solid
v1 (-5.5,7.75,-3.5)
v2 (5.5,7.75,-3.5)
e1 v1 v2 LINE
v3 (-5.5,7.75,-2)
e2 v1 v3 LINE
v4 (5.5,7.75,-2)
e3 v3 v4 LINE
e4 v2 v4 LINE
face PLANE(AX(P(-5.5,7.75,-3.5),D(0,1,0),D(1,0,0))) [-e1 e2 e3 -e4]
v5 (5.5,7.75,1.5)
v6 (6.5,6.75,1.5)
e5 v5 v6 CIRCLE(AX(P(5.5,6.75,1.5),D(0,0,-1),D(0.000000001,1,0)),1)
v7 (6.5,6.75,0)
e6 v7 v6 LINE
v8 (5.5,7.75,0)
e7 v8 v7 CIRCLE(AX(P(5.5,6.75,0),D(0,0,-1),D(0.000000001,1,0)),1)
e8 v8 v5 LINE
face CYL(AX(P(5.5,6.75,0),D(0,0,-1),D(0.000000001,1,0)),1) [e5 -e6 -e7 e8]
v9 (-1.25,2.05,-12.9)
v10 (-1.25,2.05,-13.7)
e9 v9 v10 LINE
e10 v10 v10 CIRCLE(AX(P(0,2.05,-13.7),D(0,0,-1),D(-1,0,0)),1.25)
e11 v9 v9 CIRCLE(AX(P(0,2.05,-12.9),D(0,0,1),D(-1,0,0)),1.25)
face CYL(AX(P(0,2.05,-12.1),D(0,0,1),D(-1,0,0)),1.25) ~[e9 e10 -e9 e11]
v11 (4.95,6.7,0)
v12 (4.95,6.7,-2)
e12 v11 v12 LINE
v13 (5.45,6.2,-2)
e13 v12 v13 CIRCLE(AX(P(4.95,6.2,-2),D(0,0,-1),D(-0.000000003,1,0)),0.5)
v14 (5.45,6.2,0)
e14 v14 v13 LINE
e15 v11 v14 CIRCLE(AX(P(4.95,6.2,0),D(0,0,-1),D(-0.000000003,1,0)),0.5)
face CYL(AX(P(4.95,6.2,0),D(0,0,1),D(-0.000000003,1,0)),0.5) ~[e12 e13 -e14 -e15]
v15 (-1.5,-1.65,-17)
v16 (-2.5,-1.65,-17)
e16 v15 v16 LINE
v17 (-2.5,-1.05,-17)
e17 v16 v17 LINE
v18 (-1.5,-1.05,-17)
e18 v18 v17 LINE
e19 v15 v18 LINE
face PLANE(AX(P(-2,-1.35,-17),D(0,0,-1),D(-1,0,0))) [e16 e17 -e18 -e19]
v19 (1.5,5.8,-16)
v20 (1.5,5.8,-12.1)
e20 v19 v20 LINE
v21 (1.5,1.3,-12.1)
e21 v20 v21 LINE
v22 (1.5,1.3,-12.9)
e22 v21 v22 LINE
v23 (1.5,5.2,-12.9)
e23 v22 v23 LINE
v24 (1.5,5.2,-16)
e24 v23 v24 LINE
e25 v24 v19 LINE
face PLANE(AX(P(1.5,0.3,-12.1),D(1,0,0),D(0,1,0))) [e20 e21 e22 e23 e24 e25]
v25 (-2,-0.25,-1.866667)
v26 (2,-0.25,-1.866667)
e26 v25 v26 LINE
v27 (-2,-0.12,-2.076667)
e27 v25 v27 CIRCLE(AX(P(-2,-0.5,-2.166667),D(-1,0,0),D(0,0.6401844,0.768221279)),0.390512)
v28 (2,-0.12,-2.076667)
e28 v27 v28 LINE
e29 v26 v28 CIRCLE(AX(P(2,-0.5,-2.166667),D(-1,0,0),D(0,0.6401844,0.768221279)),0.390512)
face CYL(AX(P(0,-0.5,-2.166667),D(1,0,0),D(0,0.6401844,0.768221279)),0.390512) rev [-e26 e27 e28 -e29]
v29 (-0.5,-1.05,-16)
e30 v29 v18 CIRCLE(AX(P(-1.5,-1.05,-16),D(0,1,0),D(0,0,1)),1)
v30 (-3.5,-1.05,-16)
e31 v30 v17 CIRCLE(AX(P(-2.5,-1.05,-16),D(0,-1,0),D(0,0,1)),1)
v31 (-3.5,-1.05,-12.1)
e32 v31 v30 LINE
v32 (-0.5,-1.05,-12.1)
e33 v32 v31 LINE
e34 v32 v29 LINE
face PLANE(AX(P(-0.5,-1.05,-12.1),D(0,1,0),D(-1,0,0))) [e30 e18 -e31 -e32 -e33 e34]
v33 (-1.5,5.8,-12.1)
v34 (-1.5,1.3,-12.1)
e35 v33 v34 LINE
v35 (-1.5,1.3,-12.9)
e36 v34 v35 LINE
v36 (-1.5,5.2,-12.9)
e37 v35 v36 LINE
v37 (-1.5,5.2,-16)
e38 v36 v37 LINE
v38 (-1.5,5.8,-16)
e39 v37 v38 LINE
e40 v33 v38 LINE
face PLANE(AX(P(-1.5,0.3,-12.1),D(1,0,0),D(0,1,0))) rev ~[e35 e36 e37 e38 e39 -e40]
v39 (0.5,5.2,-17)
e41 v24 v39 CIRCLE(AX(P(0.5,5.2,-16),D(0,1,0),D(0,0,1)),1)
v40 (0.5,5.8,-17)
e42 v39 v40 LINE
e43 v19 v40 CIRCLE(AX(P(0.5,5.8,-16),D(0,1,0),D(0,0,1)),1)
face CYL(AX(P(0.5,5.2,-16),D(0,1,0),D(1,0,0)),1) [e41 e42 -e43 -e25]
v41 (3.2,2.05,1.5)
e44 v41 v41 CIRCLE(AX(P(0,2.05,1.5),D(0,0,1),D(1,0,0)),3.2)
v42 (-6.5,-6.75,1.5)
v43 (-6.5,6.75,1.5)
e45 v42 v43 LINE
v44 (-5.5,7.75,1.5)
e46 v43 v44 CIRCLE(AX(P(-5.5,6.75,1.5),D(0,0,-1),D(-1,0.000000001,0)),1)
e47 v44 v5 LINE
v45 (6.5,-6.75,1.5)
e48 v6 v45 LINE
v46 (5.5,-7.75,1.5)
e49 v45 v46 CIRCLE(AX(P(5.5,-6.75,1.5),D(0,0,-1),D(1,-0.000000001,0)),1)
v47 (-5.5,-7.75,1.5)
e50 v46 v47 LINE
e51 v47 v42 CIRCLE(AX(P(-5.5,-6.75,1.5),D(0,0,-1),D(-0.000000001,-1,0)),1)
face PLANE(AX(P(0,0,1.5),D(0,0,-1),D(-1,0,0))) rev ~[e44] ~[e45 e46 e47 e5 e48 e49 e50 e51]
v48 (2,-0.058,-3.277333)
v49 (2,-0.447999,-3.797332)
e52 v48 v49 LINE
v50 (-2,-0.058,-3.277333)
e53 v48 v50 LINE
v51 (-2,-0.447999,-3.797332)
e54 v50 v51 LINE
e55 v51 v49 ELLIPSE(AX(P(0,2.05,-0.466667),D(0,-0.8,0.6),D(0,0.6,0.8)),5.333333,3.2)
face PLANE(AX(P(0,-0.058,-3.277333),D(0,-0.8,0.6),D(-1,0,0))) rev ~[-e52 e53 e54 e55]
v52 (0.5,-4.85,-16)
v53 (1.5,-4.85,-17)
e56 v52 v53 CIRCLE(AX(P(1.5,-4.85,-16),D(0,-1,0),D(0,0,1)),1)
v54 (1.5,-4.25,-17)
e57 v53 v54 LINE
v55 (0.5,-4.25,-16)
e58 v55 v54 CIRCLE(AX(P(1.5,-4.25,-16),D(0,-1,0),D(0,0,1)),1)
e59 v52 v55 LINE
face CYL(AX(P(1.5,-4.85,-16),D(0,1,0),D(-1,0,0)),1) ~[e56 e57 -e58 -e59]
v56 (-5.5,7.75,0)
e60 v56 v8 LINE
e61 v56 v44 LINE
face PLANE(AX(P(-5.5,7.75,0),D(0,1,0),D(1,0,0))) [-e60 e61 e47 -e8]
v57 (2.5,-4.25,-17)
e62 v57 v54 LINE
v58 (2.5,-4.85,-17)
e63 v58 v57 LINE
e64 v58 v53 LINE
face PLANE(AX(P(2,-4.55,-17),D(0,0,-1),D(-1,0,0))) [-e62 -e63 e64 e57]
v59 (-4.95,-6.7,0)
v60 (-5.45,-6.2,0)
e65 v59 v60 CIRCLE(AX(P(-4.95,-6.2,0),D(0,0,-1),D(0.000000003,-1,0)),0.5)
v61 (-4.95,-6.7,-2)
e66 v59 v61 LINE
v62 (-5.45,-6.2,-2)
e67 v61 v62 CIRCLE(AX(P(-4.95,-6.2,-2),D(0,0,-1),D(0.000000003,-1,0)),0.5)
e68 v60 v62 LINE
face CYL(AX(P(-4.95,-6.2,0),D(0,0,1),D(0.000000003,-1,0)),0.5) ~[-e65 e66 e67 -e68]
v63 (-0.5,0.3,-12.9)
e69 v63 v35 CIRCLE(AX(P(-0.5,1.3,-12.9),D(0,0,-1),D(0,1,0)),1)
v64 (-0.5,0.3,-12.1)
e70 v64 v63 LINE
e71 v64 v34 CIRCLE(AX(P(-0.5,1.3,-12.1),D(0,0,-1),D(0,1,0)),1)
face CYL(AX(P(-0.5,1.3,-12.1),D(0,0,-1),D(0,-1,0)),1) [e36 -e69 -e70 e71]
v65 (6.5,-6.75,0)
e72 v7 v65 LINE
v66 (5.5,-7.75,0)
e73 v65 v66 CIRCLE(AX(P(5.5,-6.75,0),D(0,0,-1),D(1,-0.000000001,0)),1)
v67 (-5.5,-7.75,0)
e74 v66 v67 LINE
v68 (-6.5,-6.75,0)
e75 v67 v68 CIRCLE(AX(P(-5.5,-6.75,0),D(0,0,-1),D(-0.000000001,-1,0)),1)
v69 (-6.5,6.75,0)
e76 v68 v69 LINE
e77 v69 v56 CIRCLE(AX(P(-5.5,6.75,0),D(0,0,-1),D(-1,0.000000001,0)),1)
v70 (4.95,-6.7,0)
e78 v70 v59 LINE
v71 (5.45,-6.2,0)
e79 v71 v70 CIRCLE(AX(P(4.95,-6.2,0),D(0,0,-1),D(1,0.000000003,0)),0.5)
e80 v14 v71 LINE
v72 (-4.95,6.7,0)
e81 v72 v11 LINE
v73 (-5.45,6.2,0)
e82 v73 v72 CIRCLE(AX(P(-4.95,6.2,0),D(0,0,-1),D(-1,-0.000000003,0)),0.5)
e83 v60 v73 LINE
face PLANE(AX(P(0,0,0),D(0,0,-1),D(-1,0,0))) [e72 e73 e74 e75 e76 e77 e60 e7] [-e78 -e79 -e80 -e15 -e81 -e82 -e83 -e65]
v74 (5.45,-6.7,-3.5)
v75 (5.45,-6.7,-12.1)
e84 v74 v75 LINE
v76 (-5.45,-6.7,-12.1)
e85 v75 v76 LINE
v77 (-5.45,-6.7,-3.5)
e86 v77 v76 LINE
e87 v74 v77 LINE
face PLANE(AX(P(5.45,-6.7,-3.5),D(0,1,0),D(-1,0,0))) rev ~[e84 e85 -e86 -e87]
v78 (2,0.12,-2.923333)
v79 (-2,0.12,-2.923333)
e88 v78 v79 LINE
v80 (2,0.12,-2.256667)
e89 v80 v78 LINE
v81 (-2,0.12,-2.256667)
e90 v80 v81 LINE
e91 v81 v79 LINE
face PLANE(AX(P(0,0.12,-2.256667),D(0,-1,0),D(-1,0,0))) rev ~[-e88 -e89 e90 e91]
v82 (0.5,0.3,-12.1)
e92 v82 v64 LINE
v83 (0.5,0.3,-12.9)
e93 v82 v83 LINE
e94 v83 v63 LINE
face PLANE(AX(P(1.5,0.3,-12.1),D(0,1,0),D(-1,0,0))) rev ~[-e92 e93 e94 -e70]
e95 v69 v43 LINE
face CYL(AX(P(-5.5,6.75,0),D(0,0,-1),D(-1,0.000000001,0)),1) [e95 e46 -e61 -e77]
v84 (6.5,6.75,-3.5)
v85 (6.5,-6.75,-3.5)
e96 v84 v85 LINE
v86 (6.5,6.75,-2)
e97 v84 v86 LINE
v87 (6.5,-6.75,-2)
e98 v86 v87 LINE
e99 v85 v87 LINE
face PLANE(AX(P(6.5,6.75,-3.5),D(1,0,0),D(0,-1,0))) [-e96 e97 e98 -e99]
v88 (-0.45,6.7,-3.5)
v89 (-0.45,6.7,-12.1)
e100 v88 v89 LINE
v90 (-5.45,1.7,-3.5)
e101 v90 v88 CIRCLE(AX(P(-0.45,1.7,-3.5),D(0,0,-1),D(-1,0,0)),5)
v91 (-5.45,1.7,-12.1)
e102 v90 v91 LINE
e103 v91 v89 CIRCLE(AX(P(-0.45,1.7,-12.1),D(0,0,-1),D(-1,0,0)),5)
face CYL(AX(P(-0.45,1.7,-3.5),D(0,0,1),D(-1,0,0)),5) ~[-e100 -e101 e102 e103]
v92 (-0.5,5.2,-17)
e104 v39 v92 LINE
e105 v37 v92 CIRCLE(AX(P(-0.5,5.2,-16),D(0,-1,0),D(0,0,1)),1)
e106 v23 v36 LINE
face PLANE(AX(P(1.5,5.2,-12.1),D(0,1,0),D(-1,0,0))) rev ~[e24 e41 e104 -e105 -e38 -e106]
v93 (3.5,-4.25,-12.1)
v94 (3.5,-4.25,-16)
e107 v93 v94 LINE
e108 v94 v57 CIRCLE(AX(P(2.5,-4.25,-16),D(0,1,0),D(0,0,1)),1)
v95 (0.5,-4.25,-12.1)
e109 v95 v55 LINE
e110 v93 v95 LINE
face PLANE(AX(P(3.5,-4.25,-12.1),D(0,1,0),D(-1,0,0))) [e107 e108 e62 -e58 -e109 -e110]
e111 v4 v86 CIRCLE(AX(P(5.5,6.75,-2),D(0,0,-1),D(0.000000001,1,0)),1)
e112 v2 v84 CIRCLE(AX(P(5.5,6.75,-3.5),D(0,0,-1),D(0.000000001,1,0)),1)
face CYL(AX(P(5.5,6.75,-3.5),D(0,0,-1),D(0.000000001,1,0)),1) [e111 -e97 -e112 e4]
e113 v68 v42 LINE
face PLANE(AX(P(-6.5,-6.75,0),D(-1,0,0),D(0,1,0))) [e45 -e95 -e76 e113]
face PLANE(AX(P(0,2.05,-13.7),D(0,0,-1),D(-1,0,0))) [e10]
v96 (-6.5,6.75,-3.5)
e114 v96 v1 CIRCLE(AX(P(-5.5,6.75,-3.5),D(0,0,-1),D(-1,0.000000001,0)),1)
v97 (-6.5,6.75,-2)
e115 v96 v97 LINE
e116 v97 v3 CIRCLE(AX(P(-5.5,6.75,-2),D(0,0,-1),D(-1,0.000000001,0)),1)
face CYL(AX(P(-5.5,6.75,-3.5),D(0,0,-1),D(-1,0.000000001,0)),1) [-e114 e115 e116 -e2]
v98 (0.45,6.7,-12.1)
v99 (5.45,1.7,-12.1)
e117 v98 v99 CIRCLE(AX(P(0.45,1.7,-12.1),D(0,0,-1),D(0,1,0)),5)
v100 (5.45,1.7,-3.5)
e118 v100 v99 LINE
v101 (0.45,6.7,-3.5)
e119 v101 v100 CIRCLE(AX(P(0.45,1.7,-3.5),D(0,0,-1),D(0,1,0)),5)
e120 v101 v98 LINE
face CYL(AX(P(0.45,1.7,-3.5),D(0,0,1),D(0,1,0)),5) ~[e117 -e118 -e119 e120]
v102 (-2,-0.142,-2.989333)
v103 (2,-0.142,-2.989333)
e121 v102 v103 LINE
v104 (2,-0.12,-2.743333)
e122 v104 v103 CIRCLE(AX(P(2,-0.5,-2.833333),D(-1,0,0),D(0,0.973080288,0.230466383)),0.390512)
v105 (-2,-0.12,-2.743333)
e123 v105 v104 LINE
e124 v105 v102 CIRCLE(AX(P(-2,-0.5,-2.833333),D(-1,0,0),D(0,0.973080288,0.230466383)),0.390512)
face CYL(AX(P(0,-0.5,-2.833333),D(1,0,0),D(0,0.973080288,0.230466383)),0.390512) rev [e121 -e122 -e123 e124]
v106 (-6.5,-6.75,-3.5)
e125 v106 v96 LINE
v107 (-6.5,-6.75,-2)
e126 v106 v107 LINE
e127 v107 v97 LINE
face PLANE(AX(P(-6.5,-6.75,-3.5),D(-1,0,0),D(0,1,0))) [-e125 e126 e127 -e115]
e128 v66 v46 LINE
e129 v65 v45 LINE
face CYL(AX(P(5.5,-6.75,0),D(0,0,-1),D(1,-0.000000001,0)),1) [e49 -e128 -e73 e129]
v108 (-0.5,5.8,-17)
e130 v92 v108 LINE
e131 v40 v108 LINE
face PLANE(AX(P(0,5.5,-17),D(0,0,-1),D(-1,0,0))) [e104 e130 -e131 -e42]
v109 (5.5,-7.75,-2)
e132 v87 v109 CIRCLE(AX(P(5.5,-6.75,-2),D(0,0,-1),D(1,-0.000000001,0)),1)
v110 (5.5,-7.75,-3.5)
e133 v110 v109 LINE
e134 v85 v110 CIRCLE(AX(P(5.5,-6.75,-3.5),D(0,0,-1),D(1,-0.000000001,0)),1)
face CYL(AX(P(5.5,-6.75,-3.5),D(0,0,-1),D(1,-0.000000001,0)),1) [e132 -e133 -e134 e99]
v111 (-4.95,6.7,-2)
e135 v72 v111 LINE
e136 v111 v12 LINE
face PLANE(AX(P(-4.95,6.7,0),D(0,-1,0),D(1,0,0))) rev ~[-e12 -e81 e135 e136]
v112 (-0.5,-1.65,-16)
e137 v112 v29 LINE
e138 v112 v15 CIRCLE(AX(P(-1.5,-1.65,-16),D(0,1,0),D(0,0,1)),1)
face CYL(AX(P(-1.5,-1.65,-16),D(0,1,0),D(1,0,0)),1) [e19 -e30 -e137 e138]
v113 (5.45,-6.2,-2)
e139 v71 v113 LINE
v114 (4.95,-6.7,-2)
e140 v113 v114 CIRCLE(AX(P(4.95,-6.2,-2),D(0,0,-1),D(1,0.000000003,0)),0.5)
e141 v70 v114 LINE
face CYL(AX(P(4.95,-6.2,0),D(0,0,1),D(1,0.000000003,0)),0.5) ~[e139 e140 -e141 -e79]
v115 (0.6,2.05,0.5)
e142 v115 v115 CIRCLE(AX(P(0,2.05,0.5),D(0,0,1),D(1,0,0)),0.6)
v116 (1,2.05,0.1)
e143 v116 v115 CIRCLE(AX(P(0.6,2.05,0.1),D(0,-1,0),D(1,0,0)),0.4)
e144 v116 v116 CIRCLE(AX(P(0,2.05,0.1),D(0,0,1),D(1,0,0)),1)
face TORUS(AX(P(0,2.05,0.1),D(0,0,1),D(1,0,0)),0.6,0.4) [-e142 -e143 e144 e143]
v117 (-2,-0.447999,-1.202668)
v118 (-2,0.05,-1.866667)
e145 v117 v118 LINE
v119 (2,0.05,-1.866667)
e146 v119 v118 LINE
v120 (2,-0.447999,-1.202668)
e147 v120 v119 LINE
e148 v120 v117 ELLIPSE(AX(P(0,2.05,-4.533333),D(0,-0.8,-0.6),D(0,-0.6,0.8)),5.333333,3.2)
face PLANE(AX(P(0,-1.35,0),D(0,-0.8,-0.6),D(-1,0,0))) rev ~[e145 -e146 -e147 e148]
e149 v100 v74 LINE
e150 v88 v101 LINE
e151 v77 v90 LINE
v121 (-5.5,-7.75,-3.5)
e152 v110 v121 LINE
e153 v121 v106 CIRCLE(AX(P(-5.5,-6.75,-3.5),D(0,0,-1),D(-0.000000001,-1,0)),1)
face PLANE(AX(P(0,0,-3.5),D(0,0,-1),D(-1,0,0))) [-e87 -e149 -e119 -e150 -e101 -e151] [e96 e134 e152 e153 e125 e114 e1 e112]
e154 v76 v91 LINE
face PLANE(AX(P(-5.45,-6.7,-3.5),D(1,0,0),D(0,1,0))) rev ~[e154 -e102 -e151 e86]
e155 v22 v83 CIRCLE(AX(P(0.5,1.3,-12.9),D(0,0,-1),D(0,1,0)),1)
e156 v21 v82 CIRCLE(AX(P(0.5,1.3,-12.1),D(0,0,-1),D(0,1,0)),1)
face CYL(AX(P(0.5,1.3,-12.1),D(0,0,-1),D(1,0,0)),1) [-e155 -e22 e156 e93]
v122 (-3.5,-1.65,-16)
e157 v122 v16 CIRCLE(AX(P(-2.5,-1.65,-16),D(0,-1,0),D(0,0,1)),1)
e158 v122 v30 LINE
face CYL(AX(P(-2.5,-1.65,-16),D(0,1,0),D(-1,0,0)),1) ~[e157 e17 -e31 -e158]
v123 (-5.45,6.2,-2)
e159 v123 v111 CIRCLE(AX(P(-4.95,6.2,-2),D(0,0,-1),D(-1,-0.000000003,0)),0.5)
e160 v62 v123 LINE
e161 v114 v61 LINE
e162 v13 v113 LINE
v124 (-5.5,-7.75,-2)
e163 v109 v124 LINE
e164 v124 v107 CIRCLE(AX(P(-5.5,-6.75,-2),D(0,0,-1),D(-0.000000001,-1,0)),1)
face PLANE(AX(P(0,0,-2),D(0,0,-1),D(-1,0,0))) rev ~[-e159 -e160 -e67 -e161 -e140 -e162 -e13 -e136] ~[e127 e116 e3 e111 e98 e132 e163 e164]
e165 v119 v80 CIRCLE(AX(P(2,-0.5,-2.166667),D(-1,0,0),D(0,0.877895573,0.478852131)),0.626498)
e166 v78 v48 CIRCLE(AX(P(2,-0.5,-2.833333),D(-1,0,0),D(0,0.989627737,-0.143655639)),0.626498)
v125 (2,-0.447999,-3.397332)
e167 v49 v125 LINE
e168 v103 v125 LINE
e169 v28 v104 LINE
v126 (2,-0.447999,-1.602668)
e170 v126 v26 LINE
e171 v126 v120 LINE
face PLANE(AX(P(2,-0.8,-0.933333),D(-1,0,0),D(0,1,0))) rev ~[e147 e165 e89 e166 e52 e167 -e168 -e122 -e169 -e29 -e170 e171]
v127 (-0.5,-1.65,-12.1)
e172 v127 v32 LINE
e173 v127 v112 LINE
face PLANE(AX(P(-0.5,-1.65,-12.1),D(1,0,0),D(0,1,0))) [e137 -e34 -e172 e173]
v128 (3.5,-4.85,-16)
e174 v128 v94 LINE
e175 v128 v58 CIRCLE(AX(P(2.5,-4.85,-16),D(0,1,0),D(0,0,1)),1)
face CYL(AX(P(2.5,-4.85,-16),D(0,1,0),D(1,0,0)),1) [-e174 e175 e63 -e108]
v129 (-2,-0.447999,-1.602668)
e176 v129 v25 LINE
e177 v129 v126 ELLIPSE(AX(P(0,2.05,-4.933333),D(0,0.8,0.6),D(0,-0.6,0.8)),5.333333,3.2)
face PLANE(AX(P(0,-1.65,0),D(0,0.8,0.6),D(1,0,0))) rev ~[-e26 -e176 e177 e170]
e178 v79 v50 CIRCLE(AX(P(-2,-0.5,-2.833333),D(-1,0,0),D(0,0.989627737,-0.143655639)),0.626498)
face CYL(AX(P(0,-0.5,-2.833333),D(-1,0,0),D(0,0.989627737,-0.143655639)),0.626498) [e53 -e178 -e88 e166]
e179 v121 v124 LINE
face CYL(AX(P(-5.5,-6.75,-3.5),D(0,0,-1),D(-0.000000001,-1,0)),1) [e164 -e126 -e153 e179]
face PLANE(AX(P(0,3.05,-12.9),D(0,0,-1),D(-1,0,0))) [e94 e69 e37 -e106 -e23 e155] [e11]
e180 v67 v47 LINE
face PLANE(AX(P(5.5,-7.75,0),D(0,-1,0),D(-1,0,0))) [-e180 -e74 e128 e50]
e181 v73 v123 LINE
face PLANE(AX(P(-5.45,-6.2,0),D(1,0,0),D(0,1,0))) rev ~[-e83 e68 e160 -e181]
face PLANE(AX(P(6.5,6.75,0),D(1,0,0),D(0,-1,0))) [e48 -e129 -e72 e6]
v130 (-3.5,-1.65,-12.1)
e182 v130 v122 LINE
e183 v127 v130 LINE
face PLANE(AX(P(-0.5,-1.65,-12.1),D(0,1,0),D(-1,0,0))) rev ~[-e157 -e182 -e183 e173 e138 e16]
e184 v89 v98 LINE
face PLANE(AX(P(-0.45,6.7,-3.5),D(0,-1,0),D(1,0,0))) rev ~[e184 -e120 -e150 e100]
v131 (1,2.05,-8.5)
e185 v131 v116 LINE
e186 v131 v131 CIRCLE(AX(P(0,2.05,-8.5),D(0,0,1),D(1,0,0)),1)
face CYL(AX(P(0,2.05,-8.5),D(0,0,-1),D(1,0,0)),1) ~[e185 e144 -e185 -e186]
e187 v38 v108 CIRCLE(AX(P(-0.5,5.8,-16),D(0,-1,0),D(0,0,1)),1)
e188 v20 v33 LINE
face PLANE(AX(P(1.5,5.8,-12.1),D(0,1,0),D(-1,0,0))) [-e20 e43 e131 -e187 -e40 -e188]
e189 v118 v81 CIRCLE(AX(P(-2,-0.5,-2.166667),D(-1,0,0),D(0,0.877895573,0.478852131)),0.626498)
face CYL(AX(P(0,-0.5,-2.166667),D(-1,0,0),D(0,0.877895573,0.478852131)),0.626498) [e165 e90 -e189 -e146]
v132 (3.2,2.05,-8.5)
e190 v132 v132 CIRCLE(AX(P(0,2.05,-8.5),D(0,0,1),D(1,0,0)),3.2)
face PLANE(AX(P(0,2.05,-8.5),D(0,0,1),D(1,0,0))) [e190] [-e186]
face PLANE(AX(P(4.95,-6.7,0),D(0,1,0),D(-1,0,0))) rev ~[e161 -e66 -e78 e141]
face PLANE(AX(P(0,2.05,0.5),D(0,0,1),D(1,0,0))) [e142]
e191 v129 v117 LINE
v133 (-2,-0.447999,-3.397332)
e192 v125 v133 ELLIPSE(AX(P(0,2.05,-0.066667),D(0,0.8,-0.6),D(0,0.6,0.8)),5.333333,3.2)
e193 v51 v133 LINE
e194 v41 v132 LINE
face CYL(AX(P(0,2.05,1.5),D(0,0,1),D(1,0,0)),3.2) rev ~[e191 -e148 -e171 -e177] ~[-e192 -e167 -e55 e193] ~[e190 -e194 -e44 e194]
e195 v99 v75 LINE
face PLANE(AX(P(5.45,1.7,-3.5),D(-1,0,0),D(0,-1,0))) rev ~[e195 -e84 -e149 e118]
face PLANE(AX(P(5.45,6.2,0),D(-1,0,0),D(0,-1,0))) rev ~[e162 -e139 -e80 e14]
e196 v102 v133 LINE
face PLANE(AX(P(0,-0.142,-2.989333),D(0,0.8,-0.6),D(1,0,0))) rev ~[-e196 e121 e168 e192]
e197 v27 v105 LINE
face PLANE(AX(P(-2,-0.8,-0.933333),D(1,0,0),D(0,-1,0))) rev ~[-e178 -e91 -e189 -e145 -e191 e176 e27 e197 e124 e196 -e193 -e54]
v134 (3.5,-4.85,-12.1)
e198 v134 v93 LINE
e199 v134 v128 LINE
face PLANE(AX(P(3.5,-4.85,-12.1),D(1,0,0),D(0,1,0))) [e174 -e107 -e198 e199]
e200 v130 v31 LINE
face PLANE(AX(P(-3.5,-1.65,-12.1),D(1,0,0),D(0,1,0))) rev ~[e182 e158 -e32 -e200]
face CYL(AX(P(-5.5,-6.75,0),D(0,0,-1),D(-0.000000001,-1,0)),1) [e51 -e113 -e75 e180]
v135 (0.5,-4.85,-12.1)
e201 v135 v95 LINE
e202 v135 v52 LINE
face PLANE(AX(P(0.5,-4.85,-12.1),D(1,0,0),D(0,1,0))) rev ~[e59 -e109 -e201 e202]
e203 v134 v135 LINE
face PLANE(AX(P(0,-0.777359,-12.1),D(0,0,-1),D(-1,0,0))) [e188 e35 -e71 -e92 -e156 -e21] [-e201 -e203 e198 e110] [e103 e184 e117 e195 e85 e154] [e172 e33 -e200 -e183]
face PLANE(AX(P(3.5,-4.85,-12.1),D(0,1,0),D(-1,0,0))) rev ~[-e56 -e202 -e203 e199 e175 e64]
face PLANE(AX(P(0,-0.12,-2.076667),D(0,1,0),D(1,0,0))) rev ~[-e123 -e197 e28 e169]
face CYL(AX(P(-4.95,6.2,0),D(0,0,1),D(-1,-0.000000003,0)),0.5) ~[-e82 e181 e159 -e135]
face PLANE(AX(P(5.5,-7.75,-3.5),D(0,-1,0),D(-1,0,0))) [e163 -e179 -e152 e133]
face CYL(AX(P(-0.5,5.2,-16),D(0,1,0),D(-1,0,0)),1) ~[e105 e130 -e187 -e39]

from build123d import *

# Parameters (mm, degrees)
EXTRUDE_1_DEPTH     = 1.5
EXTRUDE_2_DEPTH     = 2
EXTRUDE_START       = 1.5
EXTRUDE_3_DEPTH     = 1.5
EXTRUDE_4_DEPTH     = 8.6
SKETCH_5_R          = 3.2
CUT_EXTRUDE_1_DEPTH = 10
SKETCH_6_R          = 1
EXTRUDE_5_DEPTH     = 9
FILLET_1_R          = 0.4
SKETCH_8_W          = 4
SKETCH_8_H          = 0.3
SKETCH_11_W         = 3
SKETCH_11_H         = 0.6
EXTRUDE_6_DEPTH     = 4.9
SKETCH_12_W         = 3
SKETCH_12_H         = 5.5
EXTRUDE_7_DEPTH     = 0.8
SKETCH_13_R         = 1.25
EXTRUDE_8_DEPTH     = 1.6
FILLET_2_R          = 1
FILLET_3_R          = 1


with BuildPart() as part:
    # Эскиз1 → Бобышка-Вытянуть1 (new body)
    with BuildSketch(Plane.XY):
        with BuildLine():
            Line((5.5, -7.75), (-5.5, -7.75))
            ThreePointArc((-5.5, -7.75), (-6.207106781, -7.457106781), (-6.5, -6.75))
            Line((-6.5, -6.75), (-6.5, 6.75))
            ThreePointArc((-6.5, 6.75), (-6.207106781, 7.457106781), (-5.5, 7.75))
            Line((-5.5, 7.75), (5.5, 7.75))
            ThreePointArc((5.5, 7.75), (6.207106781, 7.457106781), (6.5, 6.75))
            Line((6.5, 6.75), (6.5, -6.75))
            ThreePointArc((6.5, -6.75), (6.207106781, -7.457106781), (5.5, -7.75))
        make_face()
    extrude(amount=EXTRUDE_1_DEPTH)

    # Эскиз2 → Бобышка-Вытянуть2 (add)
    with BuildSketch(Plane.XY):
        with BuildLine():
            Line((4.95, -6.7), (-4.95, -6.7))
            ThreePointArc((-4.95, -6.7), (-5.303553391, -6.553553391), (-5.45, -6.2))
            Line((-5.45, -6.2), (-5.45, 6.2))
            ThreePointArc((-5.45, 6.2), (-5.303553391, 6.553553391), (-4.95, 6.7))
            Line((-4.95, 6.7), (4.95, 6.7))
            ThreePointArc((4.95, 6.7), (5.303553391, 6.553553391), (5.45, 6.2))
            Line((5.45, 6.2), (5.45, -6.2))
            ThreePointArc((5.45, -6.2), (5.303553391, -6.553553391), (4.95, -6.7))
        make_face()
    extrude(amount=-EXTRUDE_2_DEPTH)

    # Эскиз3 → Бобышка-Вытянуть3 (add)
    with BuildSketch(Plane(origin=(0, 0, -2), x_dir=(-1, 0, 0), z_dir=(0, 0, -1)).offset(EXTRUDE_START)):
        with BuildLine():
            Line((-5.5, -7.75), (5.5, -7.75))
            ThreePointArc((5.5, -7.75), (6.207106781, -7.457106781), (6.5, -6.75))
            Line((6.5, -6.75), (6.5, 6.75))
            ThreePointArc((6.5, 6.75), (6.207106781, 7.457106781), (5.5, 7.75))
            Line((5.5, 7.75), (-5.5, 7.75))
            ThreePointArc((-5.5, 7.75), (-6.207106781, 7.457106781), (-6.5, 6.75))
            Line((-6.5, 6.75), (-6.5, -6.75))
            ThreePointArc((-6.5, -6.75), (-6.207106781, -7.457106781), (-5.5, -7.75))
        make_face()
    extrude(amount=-EXTRUDE_3_DEPTH)

    # Эскиз4 → Бобышка-Вытянуть4 (add)
    with BuildSketch(Plane(origin=(0, 0, -3.5), x_dir=(-1, 0, 0), z_dir=(0, 0, -1))):
        with BuildLine():
            Line((-5.45, -6.7), (5.45, -6.7))
            Line((5.45, -6.7), (5.45, 1.7))
            ThreePointArc((5.45, 1.7), (3.985533906, 5.235533906), (0.45, 6.7))
            Line((0.45, 6.7), (-0.45, 6.7))
            ThreePointArc((-0.45, 6.7), (-3.985533906, 5.235533906), (-5.45, 1.7))
            Line((-5.45, 1.7), (-5.45, -6.7))
        make_face()
    extrude(amount=EXTRUDE_4_DEPTH)

    # Эскиз5 → Вырез-Вытянуть1 (cut)
    with BuildSketch(Plane.XY.offset(1.5)):
        with Locations((0, 2.05)):
            Circle(SKETCH_5_R)
    extrude(amount=-CUT_EXTRUDE_1_DEPTH, mode=Mode.SUBTRACT)

    # Эскиз6 → Бобышка-Вытянуть5 (add)
    with BuildSketch(Plane.XY.offset(-8.5)):
        with Locations((0, 2.05)):
            Circle(SKETCH_6_R)
    extrude(amount=EXTRUDE_5_DEPTH)

    # Скругление1
    fillet_1_edges = [part.edges().sort_by_distance(p)[0] for p in [
        (-1, 2.05, 0.5),
    ]]
    fillet(fillet_1_edges, radius=FILLET_1_R)

    # По траектории1: sweep along a path in Эскиз9
    with BuildLine(Plane(origin=(0, 0, 0), x_dir=(0, 0, -1), z_dir=(1, 0, 0))) as sweep_1_path:
        Line((0, -1.5), (1.866666667, -0.1))
        ThreePointArc((1.866666667, -0.1), (2.008552784, -0.025658351), (2.166666667, 0))
        Line((2.166666667, 0), (2.833333333, 0))
        ThreePointArc((2.833333333, 0), (2.991447216, -0.025658351), (3.133333333, -0.1))
        Line((3.133333333, -0.1), (4.866666667, -1.4))
        ThreePointArc((4.866666667, -1.4), (5.008552784, -1.474341649), (5.166666667, -1.5))
        Line((5.166666667, -1.5), (8.166666667, -1.5))
    # Эскиз8 → По траектории1 (sweep)
    with BuildSketch(Plane.XY):
        with Locations((0, -1.5)):
            Rectangle(SKETCH_8_W, SKETCH_8_H)
    sweep(path=sweep_1_path.line)

    # Эскиз11 → Бобышка-Вытянуть6 (add)
    with BuildSketch(Plane(origin=(0, 0, -12.1), x_dir=(-1, 0, 0), z_dir=(0, 0, -1))):
        with Locations((-2, -4.55)):
            Rectangle(SKETCH_11_W, SKETCH_11_H)
        with Locations((2, -1.35)):
            Rectangle(SKETCH_11_W, SKETCH_11_H)
        with Locations((0, 5.5)):
            Rectangle(SKETCH_11_W, SKETCH_11_H)
    extrude(amount=EXTRUDE_6_DEPTH)

    # Эскиз12 → Бобышка-Вытянуть7 (add)
    with BuildSketch(Plane(origin=(0, 0, -12.1), x_dir=(-1, 0, 0), z_dir=(0, 0, -1))):
        with Locations((0, 3.05)):
            Rectangle(SKETCH_12_W, SKETCH_12_H)
    extrude(amount=EXTRUDE_7_DEPTH)

    # Эскиз13 → Бобышка-Вытянуть8 (add)
    with BuildSketch(Plane(origin=(0, 0, -12.1), x_dir=(-1, 0, 0), z_dir=(0, 0, -1))):
        with Locations((0, 2.05)):
            Circle(SKETCH_13_R)
    extrude(amount=EXTRUDE_8_DEPTH)

    # Скругление2
    fillet_2_edges = [part.edges().sort_by_distance(p)[0] for p in [
        (-1.5, 0.3, -12.5),
        (1.5, 0.3, -12.5),
    ]]
    fillet(fillet_2_edges, radius=FILLET_2_R)

    # Скругление3
    fillet_3_edges = [part.edges().sort_by_distance(p)[0] for p in [
        (-1.5, 5.5, -17),
        (1.5, 5.5, -17),
        (-3.5, -1.35, -17),
        (-0.5, -1.35, -17),
        (0.5, -4.55, -17),
        (3.5, -4.55, -17),
    ]]
    fillet(fillet_3_edges, radius=FILLET_3_R)


solid = part.part
